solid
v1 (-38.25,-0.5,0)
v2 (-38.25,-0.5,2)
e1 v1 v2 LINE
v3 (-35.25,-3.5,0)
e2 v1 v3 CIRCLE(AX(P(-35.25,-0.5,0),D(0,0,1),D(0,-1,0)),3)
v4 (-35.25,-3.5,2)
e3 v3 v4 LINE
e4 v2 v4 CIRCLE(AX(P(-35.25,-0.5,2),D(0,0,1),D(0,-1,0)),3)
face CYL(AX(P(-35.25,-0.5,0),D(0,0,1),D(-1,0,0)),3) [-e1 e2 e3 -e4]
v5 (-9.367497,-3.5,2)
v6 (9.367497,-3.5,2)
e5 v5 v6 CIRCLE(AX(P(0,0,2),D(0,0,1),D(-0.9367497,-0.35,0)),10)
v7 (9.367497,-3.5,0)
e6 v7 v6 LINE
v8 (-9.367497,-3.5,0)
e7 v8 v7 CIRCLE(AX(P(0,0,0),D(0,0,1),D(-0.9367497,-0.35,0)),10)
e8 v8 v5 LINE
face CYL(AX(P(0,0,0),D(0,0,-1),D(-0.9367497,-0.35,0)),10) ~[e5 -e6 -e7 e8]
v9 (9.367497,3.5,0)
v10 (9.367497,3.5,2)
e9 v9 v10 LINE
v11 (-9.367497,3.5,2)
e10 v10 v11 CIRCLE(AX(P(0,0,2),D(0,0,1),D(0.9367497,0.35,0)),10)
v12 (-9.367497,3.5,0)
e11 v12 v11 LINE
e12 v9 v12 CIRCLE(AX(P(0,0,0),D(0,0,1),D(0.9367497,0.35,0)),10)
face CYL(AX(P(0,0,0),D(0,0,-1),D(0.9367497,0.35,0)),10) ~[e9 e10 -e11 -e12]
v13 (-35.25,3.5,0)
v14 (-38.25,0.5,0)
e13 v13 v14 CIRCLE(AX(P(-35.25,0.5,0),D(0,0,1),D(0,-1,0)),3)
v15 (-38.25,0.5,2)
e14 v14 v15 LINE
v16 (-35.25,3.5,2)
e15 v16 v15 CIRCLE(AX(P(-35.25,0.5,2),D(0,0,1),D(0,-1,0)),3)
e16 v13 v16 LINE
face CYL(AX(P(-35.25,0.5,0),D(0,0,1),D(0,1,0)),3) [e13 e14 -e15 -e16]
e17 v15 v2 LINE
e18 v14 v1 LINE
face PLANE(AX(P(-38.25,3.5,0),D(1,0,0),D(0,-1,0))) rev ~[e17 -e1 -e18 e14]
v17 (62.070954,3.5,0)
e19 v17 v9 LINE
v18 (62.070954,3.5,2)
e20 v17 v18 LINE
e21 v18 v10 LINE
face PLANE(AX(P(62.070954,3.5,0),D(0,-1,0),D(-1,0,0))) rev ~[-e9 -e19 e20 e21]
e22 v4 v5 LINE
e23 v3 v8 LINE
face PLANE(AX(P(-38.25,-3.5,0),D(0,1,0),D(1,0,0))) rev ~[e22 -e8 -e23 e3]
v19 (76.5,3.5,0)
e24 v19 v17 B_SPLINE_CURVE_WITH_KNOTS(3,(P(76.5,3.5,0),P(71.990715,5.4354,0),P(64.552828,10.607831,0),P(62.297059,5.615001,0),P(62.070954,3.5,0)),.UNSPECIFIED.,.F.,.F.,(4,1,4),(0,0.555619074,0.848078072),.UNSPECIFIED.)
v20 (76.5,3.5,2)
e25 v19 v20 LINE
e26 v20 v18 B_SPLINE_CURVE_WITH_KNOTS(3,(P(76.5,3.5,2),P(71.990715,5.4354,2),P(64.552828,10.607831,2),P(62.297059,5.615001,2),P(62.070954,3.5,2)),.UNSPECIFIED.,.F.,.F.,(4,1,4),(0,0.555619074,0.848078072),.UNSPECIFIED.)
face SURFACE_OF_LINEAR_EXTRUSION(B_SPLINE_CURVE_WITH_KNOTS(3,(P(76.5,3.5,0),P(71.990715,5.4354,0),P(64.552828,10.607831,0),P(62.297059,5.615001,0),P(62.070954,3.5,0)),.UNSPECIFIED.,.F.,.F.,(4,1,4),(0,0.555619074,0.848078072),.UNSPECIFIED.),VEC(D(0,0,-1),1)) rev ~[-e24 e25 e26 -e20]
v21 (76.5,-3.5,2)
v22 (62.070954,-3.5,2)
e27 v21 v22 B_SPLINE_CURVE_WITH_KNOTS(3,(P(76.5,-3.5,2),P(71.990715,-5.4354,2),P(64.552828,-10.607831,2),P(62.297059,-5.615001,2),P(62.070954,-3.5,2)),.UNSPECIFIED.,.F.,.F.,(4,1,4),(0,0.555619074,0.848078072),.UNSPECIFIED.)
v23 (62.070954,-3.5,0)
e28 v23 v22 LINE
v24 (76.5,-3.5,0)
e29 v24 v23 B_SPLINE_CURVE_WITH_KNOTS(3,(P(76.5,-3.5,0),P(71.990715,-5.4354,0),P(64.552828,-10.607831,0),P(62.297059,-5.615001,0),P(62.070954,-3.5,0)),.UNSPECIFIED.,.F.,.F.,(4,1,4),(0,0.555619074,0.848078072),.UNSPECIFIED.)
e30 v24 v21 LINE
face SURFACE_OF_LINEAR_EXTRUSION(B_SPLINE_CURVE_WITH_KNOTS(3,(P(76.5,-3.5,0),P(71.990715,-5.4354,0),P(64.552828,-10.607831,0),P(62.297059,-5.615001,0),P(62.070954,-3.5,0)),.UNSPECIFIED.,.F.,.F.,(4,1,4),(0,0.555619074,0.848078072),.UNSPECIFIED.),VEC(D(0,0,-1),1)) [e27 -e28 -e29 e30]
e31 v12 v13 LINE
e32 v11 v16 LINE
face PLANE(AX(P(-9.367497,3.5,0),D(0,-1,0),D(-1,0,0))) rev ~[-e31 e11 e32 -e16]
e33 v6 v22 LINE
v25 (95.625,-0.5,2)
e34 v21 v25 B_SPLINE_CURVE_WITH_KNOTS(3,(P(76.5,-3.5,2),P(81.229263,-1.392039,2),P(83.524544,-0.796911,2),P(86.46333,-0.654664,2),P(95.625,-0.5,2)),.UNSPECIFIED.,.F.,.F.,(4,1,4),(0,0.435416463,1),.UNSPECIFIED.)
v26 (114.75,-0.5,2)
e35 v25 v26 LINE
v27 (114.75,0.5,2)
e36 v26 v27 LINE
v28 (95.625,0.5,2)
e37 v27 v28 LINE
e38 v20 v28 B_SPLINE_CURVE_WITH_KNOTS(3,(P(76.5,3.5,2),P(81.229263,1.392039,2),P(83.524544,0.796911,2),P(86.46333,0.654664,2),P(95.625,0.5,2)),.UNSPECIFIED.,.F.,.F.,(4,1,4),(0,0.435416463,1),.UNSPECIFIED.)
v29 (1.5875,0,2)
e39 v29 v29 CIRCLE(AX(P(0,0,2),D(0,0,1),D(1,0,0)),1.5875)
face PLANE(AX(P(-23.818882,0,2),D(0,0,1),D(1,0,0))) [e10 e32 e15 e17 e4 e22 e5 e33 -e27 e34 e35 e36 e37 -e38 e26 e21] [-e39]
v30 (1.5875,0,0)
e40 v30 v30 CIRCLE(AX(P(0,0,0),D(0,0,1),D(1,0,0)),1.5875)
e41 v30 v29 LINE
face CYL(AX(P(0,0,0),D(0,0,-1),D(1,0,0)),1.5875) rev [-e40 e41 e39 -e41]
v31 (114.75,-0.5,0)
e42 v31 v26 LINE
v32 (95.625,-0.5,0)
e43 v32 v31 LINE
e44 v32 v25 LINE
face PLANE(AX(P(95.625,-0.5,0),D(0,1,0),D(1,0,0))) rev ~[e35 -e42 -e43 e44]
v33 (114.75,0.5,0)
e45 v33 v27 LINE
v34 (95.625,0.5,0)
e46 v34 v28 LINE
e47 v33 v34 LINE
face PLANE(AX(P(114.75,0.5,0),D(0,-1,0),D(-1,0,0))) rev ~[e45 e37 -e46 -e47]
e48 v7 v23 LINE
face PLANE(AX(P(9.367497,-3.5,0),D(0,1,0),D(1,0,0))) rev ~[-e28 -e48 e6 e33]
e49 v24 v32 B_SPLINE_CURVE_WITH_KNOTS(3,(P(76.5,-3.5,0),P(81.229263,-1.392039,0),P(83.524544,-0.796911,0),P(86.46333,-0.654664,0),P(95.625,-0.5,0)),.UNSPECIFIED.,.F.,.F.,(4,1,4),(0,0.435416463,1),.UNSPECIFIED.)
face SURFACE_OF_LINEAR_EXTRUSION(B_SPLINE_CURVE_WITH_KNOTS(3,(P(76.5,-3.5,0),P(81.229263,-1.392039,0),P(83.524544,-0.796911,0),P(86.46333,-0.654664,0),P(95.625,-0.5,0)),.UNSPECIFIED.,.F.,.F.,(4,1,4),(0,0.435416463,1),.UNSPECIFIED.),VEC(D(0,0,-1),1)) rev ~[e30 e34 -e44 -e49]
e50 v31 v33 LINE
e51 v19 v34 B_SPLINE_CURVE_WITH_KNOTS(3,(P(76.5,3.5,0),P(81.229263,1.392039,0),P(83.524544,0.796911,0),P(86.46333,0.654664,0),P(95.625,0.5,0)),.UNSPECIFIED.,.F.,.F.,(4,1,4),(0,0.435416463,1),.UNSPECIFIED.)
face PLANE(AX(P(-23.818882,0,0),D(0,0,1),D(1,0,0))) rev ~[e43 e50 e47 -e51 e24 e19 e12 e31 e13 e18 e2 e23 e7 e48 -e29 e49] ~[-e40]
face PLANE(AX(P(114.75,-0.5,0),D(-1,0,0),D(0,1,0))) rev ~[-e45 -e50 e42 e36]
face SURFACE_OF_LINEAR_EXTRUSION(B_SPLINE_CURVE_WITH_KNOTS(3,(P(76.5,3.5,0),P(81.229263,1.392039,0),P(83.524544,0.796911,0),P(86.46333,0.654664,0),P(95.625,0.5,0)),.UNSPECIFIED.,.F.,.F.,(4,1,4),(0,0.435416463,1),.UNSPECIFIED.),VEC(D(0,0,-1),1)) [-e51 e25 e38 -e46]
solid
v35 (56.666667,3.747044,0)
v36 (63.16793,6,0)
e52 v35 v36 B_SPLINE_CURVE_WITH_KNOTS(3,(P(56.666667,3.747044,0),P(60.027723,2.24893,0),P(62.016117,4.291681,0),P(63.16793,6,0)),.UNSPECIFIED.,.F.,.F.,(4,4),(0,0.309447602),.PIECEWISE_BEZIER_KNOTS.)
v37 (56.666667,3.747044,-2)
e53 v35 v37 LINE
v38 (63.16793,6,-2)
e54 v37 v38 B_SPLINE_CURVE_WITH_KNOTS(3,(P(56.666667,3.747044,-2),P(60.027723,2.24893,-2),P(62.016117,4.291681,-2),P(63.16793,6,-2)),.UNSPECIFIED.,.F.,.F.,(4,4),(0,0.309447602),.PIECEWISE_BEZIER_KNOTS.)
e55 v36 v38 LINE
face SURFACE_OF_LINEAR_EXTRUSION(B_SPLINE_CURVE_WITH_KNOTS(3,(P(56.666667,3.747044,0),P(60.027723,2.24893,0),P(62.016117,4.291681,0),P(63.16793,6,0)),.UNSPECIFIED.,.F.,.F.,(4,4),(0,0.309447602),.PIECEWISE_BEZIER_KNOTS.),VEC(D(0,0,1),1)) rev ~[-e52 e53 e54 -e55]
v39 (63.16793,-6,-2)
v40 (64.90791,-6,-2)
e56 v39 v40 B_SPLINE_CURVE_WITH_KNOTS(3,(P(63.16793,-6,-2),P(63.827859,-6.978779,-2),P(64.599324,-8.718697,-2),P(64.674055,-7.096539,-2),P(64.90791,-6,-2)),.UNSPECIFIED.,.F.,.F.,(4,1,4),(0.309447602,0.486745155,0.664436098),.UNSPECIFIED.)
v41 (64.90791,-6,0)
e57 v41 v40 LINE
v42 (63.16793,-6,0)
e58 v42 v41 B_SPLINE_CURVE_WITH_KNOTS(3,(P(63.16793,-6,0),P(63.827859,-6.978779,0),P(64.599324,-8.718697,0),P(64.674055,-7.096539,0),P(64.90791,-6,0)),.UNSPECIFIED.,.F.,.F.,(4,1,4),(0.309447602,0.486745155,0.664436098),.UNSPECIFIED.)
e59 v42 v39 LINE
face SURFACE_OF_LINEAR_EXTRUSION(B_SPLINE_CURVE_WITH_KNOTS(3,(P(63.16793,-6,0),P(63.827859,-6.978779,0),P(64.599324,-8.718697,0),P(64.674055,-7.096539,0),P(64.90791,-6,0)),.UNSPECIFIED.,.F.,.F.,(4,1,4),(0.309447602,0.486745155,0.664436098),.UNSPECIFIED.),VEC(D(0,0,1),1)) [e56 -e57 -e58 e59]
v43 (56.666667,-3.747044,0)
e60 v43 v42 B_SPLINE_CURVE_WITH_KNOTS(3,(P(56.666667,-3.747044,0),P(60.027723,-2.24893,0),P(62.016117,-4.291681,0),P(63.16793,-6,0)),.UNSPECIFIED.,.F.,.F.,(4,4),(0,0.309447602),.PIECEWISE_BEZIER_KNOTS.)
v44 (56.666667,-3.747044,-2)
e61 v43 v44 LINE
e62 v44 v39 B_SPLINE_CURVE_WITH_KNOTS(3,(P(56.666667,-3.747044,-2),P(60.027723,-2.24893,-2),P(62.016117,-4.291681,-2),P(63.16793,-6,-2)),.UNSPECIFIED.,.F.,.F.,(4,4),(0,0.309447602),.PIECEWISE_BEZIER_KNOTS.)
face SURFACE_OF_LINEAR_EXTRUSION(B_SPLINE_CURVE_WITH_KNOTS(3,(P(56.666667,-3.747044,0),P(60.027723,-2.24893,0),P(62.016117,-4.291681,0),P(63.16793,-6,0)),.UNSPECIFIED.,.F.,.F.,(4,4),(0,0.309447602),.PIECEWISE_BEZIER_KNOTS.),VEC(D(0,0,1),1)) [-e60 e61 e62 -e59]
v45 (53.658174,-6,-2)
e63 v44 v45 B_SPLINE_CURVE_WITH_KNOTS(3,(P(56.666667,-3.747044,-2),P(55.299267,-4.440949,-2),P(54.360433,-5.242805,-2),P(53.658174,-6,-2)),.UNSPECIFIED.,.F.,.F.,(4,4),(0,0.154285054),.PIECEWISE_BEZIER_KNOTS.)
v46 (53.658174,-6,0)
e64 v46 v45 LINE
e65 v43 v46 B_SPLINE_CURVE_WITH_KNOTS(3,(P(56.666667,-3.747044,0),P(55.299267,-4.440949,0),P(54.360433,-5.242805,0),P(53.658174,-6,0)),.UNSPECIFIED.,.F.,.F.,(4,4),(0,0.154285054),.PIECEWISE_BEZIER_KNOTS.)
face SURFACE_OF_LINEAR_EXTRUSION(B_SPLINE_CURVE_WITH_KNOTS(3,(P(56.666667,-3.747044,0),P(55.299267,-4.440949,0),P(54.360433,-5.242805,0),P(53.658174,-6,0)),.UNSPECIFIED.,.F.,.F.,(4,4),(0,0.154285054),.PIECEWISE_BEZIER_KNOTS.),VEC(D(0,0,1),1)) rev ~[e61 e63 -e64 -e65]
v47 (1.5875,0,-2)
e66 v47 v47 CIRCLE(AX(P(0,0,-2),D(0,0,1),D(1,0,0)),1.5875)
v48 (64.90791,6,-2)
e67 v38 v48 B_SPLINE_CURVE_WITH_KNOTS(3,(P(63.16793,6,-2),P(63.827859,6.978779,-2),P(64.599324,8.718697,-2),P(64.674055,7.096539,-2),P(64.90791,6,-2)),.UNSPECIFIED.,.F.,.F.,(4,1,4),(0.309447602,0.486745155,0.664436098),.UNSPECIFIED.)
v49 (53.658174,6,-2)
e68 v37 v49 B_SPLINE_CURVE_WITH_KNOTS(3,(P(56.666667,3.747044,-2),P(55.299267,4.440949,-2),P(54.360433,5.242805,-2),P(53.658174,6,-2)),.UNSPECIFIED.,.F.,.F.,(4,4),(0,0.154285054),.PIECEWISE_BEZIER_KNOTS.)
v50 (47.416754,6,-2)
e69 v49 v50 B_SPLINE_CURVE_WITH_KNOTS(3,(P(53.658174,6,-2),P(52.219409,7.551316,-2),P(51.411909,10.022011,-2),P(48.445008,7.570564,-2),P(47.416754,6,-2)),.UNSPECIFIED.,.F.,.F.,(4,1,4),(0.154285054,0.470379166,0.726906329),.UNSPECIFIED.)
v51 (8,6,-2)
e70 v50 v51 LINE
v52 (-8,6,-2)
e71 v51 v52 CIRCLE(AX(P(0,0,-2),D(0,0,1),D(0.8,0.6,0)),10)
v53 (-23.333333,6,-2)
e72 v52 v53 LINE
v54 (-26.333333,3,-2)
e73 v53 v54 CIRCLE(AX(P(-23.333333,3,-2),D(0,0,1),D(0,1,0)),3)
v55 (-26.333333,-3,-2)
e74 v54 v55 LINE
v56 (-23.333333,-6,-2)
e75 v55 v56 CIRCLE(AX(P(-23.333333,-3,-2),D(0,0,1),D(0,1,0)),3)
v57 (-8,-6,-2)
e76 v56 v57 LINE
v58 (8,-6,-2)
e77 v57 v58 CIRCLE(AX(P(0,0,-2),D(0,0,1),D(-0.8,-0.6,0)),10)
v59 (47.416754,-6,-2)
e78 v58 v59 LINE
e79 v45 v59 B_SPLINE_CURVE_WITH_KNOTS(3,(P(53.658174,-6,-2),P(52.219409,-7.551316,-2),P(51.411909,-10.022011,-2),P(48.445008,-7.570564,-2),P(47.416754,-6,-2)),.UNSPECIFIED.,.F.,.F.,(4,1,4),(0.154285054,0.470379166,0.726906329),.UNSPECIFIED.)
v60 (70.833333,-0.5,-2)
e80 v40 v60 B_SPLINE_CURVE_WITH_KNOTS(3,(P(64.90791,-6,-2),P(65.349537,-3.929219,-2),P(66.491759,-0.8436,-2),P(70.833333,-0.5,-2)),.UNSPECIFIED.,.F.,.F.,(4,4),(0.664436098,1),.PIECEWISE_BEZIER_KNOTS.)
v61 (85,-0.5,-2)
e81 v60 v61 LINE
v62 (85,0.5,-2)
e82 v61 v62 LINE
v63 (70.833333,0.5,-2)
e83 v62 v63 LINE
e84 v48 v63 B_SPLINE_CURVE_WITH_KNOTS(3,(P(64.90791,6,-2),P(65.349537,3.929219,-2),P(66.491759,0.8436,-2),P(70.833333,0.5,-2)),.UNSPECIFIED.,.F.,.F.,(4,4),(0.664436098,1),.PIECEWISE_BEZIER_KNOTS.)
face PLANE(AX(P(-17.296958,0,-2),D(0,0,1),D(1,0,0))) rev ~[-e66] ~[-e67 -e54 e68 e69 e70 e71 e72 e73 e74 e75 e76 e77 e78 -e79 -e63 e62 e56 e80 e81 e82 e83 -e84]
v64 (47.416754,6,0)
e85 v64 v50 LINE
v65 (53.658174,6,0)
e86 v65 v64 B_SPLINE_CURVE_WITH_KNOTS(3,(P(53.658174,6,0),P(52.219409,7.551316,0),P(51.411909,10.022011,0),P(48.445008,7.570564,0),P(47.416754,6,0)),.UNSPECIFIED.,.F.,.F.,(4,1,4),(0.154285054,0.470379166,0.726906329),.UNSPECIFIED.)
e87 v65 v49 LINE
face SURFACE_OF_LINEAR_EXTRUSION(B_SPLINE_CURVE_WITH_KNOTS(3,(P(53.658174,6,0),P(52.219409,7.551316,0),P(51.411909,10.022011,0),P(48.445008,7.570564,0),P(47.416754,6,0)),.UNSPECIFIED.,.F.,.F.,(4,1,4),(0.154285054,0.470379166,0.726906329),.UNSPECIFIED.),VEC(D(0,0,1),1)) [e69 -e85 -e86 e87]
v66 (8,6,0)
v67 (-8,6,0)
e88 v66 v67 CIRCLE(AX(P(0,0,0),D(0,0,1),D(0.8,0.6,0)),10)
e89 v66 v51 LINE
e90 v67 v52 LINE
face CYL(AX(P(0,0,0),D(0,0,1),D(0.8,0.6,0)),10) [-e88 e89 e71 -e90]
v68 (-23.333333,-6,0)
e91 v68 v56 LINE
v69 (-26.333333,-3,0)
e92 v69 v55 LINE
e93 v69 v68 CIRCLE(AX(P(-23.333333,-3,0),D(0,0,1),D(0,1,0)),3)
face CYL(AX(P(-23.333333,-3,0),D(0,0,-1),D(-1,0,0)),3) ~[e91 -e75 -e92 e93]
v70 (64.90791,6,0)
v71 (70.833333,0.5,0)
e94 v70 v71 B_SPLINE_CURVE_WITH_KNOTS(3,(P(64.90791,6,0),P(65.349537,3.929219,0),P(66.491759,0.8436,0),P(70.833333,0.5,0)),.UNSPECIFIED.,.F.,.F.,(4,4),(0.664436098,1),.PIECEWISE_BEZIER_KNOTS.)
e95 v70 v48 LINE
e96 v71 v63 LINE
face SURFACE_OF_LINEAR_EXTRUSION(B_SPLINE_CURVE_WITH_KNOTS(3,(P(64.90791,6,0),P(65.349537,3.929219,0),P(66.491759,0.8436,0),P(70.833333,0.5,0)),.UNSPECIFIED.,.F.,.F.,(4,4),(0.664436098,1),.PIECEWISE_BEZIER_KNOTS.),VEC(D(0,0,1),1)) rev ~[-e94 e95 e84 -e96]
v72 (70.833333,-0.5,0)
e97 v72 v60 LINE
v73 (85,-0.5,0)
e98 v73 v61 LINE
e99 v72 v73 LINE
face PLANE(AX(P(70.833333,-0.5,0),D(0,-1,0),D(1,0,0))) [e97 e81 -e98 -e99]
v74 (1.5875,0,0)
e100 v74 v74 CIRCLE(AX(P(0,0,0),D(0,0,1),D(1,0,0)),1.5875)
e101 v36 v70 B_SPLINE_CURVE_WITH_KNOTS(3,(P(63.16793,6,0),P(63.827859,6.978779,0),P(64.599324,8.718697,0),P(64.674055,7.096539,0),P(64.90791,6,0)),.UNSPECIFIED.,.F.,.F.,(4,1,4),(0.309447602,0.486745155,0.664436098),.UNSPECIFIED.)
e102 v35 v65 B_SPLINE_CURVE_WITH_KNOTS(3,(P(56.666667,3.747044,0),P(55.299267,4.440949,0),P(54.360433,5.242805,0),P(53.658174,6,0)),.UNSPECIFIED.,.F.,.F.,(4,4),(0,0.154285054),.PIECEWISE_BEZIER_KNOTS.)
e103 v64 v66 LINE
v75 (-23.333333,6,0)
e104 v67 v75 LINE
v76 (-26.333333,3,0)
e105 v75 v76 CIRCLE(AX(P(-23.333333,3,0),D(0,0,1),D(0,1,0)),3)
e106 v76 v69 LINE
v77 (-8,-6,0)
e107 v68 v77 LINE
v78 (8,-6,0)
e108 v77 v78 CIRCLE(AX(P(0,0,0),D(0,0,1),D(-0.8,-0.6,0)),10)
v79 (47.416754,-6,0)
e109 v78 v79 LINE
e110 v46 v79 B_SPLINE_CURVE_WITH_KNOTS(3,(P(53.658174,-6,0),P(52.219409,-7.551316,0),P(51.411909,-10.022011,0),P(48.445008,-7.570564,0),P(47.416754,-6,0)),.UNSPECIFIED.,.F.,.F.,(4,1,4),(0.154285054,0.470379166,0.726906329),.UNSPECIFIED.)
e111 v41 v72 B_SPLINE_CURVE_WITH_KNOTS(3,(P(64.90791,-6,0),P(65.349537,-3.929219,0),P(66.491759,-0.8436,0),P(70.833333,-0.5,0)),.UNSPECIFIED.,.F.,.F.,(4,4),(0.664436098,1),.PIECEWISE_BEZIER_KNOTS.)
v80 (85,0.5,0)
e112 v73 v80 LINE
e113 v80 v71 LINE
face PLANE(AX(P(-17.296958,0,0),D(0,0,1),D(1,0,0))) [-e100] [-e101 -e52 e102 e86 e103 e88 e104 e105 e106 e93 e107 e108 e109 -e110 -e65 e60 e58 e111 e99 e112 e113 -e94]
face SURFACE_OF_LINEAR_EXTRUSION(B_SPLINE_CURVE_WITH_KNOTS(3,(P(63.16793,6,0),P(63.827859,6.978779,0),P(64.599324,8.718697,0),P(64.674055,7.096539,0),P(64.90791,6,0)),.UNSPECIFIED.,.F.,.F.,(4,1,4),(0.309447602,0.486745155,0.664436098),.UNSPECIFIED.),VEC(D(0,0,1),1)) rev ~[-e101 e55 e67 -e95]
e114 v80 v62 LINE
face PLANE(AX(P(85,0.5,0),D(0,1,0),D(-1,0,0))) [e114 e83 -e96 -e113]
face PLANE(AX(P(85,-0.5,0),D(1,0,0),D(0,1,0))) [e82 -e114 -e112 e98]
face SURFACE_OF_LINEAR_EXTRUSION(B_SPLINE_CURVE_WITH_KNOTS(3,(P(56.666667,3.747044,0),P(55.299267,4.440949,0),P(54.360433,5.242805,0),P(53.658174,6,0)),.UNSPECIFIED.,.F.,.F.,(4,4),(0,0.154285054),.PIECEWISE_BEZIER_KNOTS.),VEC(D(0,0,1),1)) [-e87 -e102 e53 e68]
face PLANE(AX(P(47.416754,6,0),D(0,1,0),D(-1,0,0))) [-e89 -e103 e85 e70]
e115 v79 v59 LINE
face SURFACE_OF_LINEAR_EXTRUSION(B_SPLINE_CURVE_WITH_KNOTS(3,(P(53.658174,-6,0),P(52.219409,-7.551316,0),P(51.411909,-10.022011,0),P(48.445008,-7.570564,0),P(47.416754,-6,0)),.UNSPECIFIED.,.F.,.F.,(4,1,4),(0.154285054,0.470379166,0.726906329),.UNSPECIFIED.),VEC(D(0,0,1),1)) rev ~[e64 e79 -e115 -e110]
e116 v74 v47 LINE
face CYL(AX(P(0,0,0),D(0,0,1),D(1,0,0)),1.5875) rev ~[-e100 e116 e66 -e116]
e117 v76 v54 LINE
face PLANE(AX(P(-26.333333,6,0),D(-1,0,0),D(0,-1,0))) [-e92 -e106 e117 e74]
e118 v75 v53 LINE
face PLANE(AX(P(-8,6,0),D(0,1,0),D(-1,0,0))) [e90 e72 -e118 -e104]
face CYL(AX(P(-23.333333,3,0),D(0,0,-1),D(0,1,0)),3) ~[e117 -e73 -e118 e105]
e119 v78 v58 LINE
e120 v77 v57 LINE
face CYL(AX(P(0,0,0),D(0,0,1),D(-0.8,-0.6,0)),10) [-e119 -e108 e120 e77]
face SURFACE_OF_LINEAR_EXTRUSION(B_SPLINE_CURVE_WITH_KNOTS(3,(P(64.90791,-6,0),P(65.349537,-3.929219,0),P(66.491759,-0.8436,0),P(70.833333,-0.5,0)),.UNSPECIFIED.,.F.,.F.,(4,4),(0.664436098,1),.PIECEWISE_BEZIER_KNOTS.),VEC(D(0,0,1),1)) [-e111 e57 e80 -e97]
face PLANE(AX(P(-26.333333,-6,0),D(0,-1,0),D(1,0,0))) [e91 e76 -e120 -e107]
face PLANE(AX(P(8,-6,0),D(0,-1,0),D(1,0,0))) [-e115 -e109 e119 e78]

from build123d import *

# Parameters (mm, degrees)
F0_R     = 1.5875
F1_DEPTH = 2
F2_R     = 1.5875
F3_DEPTH = 2
F4_R     = 3
F4_2_R   = 3


with BuildPart() as f1:
    # F0 (on Top) → F1 (new body)
    with BuildSketch(Plane.XY):
        with BuildLine():
            ThreePointArc((-9.3674969976, -3.5), (-10, 0), (-9.3674969976, 3.5))
            Line((-9.3674969976, 3.5), (-38.25, 3.5))
            Line((-38.25, 3.5), (-38.25, -3.5))
            Line((-38.25, -3.5), (-9.3674969976, -3.5))
        make_face()
        with BuildLine():
            Line((-9.3674969976, 3.5), (9.3674969976, 3.5))
            ThreePointArc((9.3674969976, 3.5), (0, 10), (-9.3674969976, 3.5))
        make_face()
        with BuildLine():
            Line((62.0709539045, 3.5), (76.5, 3.5))
            add(Edge.make_bspline(
                [(76.5, 3.5), (71.9907153616, 5.4354000871), (64.55282786, 10.6078306891), (62.2970592122, 5.6150011273), (62.0709539045, 3.5)],
                knots=[0, 0, 0, 0, 0.5556190741, 0.8480780717, 0.8480780717, 0.8480780717, 0.8480780717], degree=3))
        make_face()
        with BuildLine():
            Line((9.3674969976, -3.5), (-9.3674969976, -3.5))
            ThreePointArc((-9.3674969976, -3.5), (0, -10), (9.3674969976, -3.5))
        make_face()
        with BuildLine():
            Line((76.5, -3.5), (62.0709539045, -3.5))
            add(Edge.make_bspline(
                [(76.5, -3.5), (71.9907153616, -5.4354000871), (64.55282786, -10.6078306891), (62.2970592122, -5.6150011273), (62.0709539045, -3.5)],
                knots=[0, 0, 0, 0, 0.5556190741, 0.8480780717, 0.8480780717, 0.8480780717, 0.8480780717], degree=3))
        make_face()
        with BuildLine():
            add(Edge.make_bspline(
                [(62.0709539045, 3.5), (61.9535003312, 2.401333), (61.9849445935, 1.196556193), (62.15625, 0)],
                knots=[0.8480780717, 0.8480780717, 0.8480780717, 0.8480780717, 1, 1, 1, 1], degree=3))
            Line((62.0709539045, 3.5), (9.3674969976, 3.5))
            ThreePointArc((9.3674969976, 3.5), (9.8406038935, 1.7783461452), (10, 0))
            ThreePointArc((10, 0), (9.8406038935, -1.7783461452), (9.3674969976, -3.5))
            Line((9.3674969976, -3.5), (62.0709539045, -3.5))
            add(Edge.make_bspline(
                [(62.0709539045, -3.5), (61.9535003312, -2.401333), (61.9849445935, -1.196556193), (62.15625, 0)],
                knots=[0.8480780717, 0.8480780717, 0.8480780717, 0.8480780717, 1, 1, 1, 1], degree=3))
        make_face()
        with BuildLine():
            ThreePointArc((10, 0), (9.8406038935, 1.7783461452), (9.3674969976, 3.5))
            Line((9.3674969976, 3.5), (-9.3674969976, 3.5))
            ThreePointArc((-9.3674969976, 3.5), (-10, 0), (-9.3674969976, -3.5))
            Line((-9.3674969976, -3.5), (9.3674969976, -3.5))
            ThreePointArc((9.3674969976, -3.5), (9.8406038935, -1.7783461452), (10, 0))
        make_face()
        Circle(F0_R, mode=Mode.SUBTRACT)
        with BuildLine():
            add(Edge.make_bspline(
                [(76.5, 3.5), (81.2292632272, 1.3920385639), (83.5245438479, 0.7969108606), (86.4633302777, 0.6546642008), (95.625, 0.5)],
                knots=[0, 0, 0, 0, 0.4354164629, 1, 1, 1, 1], degree=3))
            Line((76.5, 3.5), (62.0709539045, 3.5))
            add(Edge.make_bspline(
                [(62.0709539045, 3.5), (61.9535003312, 2.401333), (61.9849445935, 1.196556193), (62.15625, 0)],
                knots=[0.8480780717, 0.8480780717, 0.8480780717, 0.8480780717, 1, 1, 1, 1], degree=3))
            add(Edge.make_bspline(
                [(62.0709539045, -3.5), (61.9535003312, -2.401333), (61.9849445935, -1.196556193), (62.15625, 0)],
                knots=[0.8480780717, 0.8480780717, 0.8480780717, 0.8480780717, 1, 1, 1, 1], degree=3))
            Line((62.0709539045, -3.5), (76.5, -3.5))
            add(Edge.make_bspline(
                [(76.5, -3.5), (81.2292632272, -1.3920385639), (83.5245438479, -0.7969108606), (86.4633302777, -0.6546642008), (95.625, -0.5)],
                knots=[0, 0, 0, 0, 0.4354164629, 1, 1, 1, 1], degree=3))
            Line((95.625, -0.5), (114.75, -0.5))
            Line((114.75, -0.5), (114.75, 0.5))
            Line((114.75, 0.5), (95.625, 0.5))
        make_face()
    extrude(amount=F1_DEPTH)

    # F4#2
    f4_2_edges = [f1.edges().sort_by_distance(p)[0] for p in [
        (-38.25, 3.5, 1),
        (-38.25, -3.5, 1),
    ]]
    fillet(f4_2_edges, radius=F4_2_R)


with BuildPart() as f3:
    # F2 (on Top) → F3 (new body)
    with BuildSketch(Plane.XY):
        with BuildLine():
            Line((-8, 6), (-26.33333333, 6))
            Line((-26.33333333, 6), (-26.33333333, -6))
            Line((-26.33333333, -6), (-8, -6))
            ThreePointArc((-8, -6), (-10, 0), (-8, 6))
        make_face()
        with BuildLine():
            ThreePointArc((8, 6), (0, 10), (-8, 6))
            Line((-8, 6), (8, 6))
        make_face()
        with BuildLine():
            Line((8, -6), (-8, -6))
            ThreePointArc((-8, -6), (0, -10), (8, -6))
        make_face()
        with BuildLine():
            Line((53.6581738244, 6), (47.4167542526, 6))
            add(Edge.make_bspline(
                [(47.4167542526, 6), (46.3220957553, 4.3280086445), (45.5684344657, 2.1206918096), (46.0416666667, 0)],
                knots=[0.726906329, 0.726906329, 0.726906329, 0.726906329, 1, 1, 1, 1], degree=3))
            add(Edge.make_bspline(
                [(47.4167542526, -6), (46.3220957553, -4.3280086445), (45.5684344657, -2.1206918096), (46.0416666667, 0)],
                knots=[0.726906329, 0.726906329, 0.726906329, 0.726906329, 1, 1, 1, 1], degree=3))
            Line((47.4167542526, -6), (53.6581738244, -6))
            add(Edge.make_bspline(
                [(56.6666666667, -3.747044364), (55.2992674084, -4.4409490289), (54.3604326541, -5.2428049781), (53.6581738244, -6)],
                knots=[0, 0, 0, 0, 0.1542850544, 0.1542850544, 0.1542850544, 0.1542850544], degree=3))
            add(Edge.make_bspline(
                [(56.6666666667, -3.747044364), (60.0277227864, -2.2489301029), (62.0161168237, -4.2916810168), (63.1679295713, -6)],
                knots=[0, 0, 0, 0, 0.3094476025, 0.3094476025, 0.3094476025, 0.3094476025], degree=3))
            Line((63.1679295713, -6), (64.907909688, -6))
            add(Edge.make_bspline(
                [(64.907909688, -6), (65.3495372223, -3.9292189456), (66.4917594583, -0.8436001546), (70.8333333333, -0.5)],
                knots=[0.6644360976, 0.6644360976, 0.6644360976, 0.6644360976, 1, 1, 1, 1], degree=3))
            Line((70.8333333333, -0.5), (85, -0.5))
            Line((85, -0.5), (85, 0.5))
            Line((85, 0.5), (70.8333333333, 0.5))
            add(Edge.make_bspline(
                [(64.907909688, 6), (65.3495372223, 3.9292189456), (66.4917594583, 0.8436001546), (70.8333333333, 0.5)],
                knots=[0.6644360976, 0.6644360976, 0.6644360976, 0.6644360976, 1, 1, 1, 1], degree=3))
            Line((64.907909688, 6), (63.1679295713, 6))
            add(Edge.make_bspline(
                [(56.6666666667, 3.747044364), (60.0277227864, 2.2489301029), (62.0161168237, 4.2916810168), (63.1679295713, 6)],
                knots=[0, 0, 0, 0, 0.3094476025, 0.3094476025, 0.3094476025, 0.3094476025], degree=3))
            add(Edge.make_bspline(
                [(56.6666666667, 3.747044364), (55.2992674084, 4.4409490289), (54.3604326541, 5.2428049781), (53.6581738244, 6)],
                knots=[0, 0, 0, 0, 0.1542850544, 0.1542850544, 0.1542850544, 0.1542850544], degree=3))
        make_face()
        with BuildLine():
            Line((47.4167542526, 6), (8, 6))
            ThreePointArc((8, 6), (9.4868329805, 3.1622776602), (10, 0))
            ThreePointArc((10, 0), (9.4868329805, -3.1622776602), (8, -6))
            Line((8, -6), (47.4167542526, -6))
            add(Edge.make_bspline(
                [(47.4167542526, -6), (46.3220957553, -4.3280086445), (45.5684344657, -2.1206918096), (46.0416666667, 0)],
                knots=[0.726906329, 0.726906329, 0.726906329, 0.726906329, 1, 1, 1, 1], degree=3))
            add(Edge.make_bspline(
                [(47.4167542526, 6), (46.3220957553, 4.3280086445), (45.5684344657, 2.1206918096), (46.0416666667, 0)],
                knots=[0.726906329, 0.726906329, 0.726906329, 0.726906329, 1, 1, 1, 1], degree=3))
        make_face()
        with BuildLine():
            Line((8, 6), (-8, 6))
            ThreePointArc((-8, 6), (-10, 0), (-8, -6))
            Line((-8, -6), (8, -6))
            ThreePointArc((8, -6), (9.4868329805, -3.1622776602), (10, 0))
            ThreePointArc((10, 0), (9.4868329805, 3.1622776602), (8, 6))
        make_face()
        Circle(F2_R, mode=Mode.SUBTRACT)
        with BuildLine():
            Line((64.907909688, -6), (63.1679295713, -6))
            add(Edge.make_bspline(
                [(63.1679295713, -6), (63.8278590037, -6.9787788677), (64.5993236597, -8.718696784), (64.6740549365, -7.0965393941), (64.907909688, -6)],
                knots=[0.3094476025, 0.3094476025, 0.3094476025, 0.3094476025, 0.4867451547, 0.6644360976, 0.6644360976, 0.6644360976, 0.6644360976], degree=3))
        make_face()
        with BuildLine():
            add(Edge.make_bspline(
                [(63.1679295713, 6), (63.8278590037, 6.9787788677), (64.5993236597, 8.718696784), (64.6740549365, 7.0965393941), (64.907909688, 6)],
                knots=[0.3094476025, 0.3094476025, 0.3094476025, 0.3094476025, 0.4867451547, 0.6644360976, 0.6644360976, 0.6644360976, 0.6644360976], degree=3))
            Line((63.1679295713, 6), (64.907909688, 6))
        make_face()
        with BuildLine():
            add(Edge.make_bspline(
                [(53.6581738244, 6), (52.2194091826, 7.5513160935), (51.4119093355, 10.0220105563), (48.4450081755, 7.5705644038), (47.4167542526, 6)],
                knots=[0.1542850544, 0.1542850544, 0.1542850544, 0.1542850544, 0.4703791662, 0.726906329, 0.726906329, 0.726906329, 0.726906329], degree=3))
            Line((47.4167542526, 6), (53.6581738244, 6))
        make_face()
        with BuildLine():
            Line((53.6581738244, -6), (47.4167542526, -6))
            add(Edge.make_bspline(
                [(53.6581738244, -6), (52.2194091826, -7.5513160935), (51.4119093355, -10.0220105563), (48.4450081755, -7.5705644038), (47.4167542526, -6)],
                knots=[0.1542850544, 0.1542850544, 0.1542850544, 0.1542850544, 0.4703791662, 0.726906329, 0.726906329, 0.726906329, 0.726906329], degree=3))
        make_face()
    extrude(amount=-F3_DEPTH)

    # F4
    f4_edges = [f3.edges().sort_by_distance(p)[0] for p in [
        (-26.333333, 6, -1),
        (-26.333333, -6, -1),
    ]]
    fillet(f4_edges, radius=F4_R)


solid = Compound([f1.part, f3.part])
